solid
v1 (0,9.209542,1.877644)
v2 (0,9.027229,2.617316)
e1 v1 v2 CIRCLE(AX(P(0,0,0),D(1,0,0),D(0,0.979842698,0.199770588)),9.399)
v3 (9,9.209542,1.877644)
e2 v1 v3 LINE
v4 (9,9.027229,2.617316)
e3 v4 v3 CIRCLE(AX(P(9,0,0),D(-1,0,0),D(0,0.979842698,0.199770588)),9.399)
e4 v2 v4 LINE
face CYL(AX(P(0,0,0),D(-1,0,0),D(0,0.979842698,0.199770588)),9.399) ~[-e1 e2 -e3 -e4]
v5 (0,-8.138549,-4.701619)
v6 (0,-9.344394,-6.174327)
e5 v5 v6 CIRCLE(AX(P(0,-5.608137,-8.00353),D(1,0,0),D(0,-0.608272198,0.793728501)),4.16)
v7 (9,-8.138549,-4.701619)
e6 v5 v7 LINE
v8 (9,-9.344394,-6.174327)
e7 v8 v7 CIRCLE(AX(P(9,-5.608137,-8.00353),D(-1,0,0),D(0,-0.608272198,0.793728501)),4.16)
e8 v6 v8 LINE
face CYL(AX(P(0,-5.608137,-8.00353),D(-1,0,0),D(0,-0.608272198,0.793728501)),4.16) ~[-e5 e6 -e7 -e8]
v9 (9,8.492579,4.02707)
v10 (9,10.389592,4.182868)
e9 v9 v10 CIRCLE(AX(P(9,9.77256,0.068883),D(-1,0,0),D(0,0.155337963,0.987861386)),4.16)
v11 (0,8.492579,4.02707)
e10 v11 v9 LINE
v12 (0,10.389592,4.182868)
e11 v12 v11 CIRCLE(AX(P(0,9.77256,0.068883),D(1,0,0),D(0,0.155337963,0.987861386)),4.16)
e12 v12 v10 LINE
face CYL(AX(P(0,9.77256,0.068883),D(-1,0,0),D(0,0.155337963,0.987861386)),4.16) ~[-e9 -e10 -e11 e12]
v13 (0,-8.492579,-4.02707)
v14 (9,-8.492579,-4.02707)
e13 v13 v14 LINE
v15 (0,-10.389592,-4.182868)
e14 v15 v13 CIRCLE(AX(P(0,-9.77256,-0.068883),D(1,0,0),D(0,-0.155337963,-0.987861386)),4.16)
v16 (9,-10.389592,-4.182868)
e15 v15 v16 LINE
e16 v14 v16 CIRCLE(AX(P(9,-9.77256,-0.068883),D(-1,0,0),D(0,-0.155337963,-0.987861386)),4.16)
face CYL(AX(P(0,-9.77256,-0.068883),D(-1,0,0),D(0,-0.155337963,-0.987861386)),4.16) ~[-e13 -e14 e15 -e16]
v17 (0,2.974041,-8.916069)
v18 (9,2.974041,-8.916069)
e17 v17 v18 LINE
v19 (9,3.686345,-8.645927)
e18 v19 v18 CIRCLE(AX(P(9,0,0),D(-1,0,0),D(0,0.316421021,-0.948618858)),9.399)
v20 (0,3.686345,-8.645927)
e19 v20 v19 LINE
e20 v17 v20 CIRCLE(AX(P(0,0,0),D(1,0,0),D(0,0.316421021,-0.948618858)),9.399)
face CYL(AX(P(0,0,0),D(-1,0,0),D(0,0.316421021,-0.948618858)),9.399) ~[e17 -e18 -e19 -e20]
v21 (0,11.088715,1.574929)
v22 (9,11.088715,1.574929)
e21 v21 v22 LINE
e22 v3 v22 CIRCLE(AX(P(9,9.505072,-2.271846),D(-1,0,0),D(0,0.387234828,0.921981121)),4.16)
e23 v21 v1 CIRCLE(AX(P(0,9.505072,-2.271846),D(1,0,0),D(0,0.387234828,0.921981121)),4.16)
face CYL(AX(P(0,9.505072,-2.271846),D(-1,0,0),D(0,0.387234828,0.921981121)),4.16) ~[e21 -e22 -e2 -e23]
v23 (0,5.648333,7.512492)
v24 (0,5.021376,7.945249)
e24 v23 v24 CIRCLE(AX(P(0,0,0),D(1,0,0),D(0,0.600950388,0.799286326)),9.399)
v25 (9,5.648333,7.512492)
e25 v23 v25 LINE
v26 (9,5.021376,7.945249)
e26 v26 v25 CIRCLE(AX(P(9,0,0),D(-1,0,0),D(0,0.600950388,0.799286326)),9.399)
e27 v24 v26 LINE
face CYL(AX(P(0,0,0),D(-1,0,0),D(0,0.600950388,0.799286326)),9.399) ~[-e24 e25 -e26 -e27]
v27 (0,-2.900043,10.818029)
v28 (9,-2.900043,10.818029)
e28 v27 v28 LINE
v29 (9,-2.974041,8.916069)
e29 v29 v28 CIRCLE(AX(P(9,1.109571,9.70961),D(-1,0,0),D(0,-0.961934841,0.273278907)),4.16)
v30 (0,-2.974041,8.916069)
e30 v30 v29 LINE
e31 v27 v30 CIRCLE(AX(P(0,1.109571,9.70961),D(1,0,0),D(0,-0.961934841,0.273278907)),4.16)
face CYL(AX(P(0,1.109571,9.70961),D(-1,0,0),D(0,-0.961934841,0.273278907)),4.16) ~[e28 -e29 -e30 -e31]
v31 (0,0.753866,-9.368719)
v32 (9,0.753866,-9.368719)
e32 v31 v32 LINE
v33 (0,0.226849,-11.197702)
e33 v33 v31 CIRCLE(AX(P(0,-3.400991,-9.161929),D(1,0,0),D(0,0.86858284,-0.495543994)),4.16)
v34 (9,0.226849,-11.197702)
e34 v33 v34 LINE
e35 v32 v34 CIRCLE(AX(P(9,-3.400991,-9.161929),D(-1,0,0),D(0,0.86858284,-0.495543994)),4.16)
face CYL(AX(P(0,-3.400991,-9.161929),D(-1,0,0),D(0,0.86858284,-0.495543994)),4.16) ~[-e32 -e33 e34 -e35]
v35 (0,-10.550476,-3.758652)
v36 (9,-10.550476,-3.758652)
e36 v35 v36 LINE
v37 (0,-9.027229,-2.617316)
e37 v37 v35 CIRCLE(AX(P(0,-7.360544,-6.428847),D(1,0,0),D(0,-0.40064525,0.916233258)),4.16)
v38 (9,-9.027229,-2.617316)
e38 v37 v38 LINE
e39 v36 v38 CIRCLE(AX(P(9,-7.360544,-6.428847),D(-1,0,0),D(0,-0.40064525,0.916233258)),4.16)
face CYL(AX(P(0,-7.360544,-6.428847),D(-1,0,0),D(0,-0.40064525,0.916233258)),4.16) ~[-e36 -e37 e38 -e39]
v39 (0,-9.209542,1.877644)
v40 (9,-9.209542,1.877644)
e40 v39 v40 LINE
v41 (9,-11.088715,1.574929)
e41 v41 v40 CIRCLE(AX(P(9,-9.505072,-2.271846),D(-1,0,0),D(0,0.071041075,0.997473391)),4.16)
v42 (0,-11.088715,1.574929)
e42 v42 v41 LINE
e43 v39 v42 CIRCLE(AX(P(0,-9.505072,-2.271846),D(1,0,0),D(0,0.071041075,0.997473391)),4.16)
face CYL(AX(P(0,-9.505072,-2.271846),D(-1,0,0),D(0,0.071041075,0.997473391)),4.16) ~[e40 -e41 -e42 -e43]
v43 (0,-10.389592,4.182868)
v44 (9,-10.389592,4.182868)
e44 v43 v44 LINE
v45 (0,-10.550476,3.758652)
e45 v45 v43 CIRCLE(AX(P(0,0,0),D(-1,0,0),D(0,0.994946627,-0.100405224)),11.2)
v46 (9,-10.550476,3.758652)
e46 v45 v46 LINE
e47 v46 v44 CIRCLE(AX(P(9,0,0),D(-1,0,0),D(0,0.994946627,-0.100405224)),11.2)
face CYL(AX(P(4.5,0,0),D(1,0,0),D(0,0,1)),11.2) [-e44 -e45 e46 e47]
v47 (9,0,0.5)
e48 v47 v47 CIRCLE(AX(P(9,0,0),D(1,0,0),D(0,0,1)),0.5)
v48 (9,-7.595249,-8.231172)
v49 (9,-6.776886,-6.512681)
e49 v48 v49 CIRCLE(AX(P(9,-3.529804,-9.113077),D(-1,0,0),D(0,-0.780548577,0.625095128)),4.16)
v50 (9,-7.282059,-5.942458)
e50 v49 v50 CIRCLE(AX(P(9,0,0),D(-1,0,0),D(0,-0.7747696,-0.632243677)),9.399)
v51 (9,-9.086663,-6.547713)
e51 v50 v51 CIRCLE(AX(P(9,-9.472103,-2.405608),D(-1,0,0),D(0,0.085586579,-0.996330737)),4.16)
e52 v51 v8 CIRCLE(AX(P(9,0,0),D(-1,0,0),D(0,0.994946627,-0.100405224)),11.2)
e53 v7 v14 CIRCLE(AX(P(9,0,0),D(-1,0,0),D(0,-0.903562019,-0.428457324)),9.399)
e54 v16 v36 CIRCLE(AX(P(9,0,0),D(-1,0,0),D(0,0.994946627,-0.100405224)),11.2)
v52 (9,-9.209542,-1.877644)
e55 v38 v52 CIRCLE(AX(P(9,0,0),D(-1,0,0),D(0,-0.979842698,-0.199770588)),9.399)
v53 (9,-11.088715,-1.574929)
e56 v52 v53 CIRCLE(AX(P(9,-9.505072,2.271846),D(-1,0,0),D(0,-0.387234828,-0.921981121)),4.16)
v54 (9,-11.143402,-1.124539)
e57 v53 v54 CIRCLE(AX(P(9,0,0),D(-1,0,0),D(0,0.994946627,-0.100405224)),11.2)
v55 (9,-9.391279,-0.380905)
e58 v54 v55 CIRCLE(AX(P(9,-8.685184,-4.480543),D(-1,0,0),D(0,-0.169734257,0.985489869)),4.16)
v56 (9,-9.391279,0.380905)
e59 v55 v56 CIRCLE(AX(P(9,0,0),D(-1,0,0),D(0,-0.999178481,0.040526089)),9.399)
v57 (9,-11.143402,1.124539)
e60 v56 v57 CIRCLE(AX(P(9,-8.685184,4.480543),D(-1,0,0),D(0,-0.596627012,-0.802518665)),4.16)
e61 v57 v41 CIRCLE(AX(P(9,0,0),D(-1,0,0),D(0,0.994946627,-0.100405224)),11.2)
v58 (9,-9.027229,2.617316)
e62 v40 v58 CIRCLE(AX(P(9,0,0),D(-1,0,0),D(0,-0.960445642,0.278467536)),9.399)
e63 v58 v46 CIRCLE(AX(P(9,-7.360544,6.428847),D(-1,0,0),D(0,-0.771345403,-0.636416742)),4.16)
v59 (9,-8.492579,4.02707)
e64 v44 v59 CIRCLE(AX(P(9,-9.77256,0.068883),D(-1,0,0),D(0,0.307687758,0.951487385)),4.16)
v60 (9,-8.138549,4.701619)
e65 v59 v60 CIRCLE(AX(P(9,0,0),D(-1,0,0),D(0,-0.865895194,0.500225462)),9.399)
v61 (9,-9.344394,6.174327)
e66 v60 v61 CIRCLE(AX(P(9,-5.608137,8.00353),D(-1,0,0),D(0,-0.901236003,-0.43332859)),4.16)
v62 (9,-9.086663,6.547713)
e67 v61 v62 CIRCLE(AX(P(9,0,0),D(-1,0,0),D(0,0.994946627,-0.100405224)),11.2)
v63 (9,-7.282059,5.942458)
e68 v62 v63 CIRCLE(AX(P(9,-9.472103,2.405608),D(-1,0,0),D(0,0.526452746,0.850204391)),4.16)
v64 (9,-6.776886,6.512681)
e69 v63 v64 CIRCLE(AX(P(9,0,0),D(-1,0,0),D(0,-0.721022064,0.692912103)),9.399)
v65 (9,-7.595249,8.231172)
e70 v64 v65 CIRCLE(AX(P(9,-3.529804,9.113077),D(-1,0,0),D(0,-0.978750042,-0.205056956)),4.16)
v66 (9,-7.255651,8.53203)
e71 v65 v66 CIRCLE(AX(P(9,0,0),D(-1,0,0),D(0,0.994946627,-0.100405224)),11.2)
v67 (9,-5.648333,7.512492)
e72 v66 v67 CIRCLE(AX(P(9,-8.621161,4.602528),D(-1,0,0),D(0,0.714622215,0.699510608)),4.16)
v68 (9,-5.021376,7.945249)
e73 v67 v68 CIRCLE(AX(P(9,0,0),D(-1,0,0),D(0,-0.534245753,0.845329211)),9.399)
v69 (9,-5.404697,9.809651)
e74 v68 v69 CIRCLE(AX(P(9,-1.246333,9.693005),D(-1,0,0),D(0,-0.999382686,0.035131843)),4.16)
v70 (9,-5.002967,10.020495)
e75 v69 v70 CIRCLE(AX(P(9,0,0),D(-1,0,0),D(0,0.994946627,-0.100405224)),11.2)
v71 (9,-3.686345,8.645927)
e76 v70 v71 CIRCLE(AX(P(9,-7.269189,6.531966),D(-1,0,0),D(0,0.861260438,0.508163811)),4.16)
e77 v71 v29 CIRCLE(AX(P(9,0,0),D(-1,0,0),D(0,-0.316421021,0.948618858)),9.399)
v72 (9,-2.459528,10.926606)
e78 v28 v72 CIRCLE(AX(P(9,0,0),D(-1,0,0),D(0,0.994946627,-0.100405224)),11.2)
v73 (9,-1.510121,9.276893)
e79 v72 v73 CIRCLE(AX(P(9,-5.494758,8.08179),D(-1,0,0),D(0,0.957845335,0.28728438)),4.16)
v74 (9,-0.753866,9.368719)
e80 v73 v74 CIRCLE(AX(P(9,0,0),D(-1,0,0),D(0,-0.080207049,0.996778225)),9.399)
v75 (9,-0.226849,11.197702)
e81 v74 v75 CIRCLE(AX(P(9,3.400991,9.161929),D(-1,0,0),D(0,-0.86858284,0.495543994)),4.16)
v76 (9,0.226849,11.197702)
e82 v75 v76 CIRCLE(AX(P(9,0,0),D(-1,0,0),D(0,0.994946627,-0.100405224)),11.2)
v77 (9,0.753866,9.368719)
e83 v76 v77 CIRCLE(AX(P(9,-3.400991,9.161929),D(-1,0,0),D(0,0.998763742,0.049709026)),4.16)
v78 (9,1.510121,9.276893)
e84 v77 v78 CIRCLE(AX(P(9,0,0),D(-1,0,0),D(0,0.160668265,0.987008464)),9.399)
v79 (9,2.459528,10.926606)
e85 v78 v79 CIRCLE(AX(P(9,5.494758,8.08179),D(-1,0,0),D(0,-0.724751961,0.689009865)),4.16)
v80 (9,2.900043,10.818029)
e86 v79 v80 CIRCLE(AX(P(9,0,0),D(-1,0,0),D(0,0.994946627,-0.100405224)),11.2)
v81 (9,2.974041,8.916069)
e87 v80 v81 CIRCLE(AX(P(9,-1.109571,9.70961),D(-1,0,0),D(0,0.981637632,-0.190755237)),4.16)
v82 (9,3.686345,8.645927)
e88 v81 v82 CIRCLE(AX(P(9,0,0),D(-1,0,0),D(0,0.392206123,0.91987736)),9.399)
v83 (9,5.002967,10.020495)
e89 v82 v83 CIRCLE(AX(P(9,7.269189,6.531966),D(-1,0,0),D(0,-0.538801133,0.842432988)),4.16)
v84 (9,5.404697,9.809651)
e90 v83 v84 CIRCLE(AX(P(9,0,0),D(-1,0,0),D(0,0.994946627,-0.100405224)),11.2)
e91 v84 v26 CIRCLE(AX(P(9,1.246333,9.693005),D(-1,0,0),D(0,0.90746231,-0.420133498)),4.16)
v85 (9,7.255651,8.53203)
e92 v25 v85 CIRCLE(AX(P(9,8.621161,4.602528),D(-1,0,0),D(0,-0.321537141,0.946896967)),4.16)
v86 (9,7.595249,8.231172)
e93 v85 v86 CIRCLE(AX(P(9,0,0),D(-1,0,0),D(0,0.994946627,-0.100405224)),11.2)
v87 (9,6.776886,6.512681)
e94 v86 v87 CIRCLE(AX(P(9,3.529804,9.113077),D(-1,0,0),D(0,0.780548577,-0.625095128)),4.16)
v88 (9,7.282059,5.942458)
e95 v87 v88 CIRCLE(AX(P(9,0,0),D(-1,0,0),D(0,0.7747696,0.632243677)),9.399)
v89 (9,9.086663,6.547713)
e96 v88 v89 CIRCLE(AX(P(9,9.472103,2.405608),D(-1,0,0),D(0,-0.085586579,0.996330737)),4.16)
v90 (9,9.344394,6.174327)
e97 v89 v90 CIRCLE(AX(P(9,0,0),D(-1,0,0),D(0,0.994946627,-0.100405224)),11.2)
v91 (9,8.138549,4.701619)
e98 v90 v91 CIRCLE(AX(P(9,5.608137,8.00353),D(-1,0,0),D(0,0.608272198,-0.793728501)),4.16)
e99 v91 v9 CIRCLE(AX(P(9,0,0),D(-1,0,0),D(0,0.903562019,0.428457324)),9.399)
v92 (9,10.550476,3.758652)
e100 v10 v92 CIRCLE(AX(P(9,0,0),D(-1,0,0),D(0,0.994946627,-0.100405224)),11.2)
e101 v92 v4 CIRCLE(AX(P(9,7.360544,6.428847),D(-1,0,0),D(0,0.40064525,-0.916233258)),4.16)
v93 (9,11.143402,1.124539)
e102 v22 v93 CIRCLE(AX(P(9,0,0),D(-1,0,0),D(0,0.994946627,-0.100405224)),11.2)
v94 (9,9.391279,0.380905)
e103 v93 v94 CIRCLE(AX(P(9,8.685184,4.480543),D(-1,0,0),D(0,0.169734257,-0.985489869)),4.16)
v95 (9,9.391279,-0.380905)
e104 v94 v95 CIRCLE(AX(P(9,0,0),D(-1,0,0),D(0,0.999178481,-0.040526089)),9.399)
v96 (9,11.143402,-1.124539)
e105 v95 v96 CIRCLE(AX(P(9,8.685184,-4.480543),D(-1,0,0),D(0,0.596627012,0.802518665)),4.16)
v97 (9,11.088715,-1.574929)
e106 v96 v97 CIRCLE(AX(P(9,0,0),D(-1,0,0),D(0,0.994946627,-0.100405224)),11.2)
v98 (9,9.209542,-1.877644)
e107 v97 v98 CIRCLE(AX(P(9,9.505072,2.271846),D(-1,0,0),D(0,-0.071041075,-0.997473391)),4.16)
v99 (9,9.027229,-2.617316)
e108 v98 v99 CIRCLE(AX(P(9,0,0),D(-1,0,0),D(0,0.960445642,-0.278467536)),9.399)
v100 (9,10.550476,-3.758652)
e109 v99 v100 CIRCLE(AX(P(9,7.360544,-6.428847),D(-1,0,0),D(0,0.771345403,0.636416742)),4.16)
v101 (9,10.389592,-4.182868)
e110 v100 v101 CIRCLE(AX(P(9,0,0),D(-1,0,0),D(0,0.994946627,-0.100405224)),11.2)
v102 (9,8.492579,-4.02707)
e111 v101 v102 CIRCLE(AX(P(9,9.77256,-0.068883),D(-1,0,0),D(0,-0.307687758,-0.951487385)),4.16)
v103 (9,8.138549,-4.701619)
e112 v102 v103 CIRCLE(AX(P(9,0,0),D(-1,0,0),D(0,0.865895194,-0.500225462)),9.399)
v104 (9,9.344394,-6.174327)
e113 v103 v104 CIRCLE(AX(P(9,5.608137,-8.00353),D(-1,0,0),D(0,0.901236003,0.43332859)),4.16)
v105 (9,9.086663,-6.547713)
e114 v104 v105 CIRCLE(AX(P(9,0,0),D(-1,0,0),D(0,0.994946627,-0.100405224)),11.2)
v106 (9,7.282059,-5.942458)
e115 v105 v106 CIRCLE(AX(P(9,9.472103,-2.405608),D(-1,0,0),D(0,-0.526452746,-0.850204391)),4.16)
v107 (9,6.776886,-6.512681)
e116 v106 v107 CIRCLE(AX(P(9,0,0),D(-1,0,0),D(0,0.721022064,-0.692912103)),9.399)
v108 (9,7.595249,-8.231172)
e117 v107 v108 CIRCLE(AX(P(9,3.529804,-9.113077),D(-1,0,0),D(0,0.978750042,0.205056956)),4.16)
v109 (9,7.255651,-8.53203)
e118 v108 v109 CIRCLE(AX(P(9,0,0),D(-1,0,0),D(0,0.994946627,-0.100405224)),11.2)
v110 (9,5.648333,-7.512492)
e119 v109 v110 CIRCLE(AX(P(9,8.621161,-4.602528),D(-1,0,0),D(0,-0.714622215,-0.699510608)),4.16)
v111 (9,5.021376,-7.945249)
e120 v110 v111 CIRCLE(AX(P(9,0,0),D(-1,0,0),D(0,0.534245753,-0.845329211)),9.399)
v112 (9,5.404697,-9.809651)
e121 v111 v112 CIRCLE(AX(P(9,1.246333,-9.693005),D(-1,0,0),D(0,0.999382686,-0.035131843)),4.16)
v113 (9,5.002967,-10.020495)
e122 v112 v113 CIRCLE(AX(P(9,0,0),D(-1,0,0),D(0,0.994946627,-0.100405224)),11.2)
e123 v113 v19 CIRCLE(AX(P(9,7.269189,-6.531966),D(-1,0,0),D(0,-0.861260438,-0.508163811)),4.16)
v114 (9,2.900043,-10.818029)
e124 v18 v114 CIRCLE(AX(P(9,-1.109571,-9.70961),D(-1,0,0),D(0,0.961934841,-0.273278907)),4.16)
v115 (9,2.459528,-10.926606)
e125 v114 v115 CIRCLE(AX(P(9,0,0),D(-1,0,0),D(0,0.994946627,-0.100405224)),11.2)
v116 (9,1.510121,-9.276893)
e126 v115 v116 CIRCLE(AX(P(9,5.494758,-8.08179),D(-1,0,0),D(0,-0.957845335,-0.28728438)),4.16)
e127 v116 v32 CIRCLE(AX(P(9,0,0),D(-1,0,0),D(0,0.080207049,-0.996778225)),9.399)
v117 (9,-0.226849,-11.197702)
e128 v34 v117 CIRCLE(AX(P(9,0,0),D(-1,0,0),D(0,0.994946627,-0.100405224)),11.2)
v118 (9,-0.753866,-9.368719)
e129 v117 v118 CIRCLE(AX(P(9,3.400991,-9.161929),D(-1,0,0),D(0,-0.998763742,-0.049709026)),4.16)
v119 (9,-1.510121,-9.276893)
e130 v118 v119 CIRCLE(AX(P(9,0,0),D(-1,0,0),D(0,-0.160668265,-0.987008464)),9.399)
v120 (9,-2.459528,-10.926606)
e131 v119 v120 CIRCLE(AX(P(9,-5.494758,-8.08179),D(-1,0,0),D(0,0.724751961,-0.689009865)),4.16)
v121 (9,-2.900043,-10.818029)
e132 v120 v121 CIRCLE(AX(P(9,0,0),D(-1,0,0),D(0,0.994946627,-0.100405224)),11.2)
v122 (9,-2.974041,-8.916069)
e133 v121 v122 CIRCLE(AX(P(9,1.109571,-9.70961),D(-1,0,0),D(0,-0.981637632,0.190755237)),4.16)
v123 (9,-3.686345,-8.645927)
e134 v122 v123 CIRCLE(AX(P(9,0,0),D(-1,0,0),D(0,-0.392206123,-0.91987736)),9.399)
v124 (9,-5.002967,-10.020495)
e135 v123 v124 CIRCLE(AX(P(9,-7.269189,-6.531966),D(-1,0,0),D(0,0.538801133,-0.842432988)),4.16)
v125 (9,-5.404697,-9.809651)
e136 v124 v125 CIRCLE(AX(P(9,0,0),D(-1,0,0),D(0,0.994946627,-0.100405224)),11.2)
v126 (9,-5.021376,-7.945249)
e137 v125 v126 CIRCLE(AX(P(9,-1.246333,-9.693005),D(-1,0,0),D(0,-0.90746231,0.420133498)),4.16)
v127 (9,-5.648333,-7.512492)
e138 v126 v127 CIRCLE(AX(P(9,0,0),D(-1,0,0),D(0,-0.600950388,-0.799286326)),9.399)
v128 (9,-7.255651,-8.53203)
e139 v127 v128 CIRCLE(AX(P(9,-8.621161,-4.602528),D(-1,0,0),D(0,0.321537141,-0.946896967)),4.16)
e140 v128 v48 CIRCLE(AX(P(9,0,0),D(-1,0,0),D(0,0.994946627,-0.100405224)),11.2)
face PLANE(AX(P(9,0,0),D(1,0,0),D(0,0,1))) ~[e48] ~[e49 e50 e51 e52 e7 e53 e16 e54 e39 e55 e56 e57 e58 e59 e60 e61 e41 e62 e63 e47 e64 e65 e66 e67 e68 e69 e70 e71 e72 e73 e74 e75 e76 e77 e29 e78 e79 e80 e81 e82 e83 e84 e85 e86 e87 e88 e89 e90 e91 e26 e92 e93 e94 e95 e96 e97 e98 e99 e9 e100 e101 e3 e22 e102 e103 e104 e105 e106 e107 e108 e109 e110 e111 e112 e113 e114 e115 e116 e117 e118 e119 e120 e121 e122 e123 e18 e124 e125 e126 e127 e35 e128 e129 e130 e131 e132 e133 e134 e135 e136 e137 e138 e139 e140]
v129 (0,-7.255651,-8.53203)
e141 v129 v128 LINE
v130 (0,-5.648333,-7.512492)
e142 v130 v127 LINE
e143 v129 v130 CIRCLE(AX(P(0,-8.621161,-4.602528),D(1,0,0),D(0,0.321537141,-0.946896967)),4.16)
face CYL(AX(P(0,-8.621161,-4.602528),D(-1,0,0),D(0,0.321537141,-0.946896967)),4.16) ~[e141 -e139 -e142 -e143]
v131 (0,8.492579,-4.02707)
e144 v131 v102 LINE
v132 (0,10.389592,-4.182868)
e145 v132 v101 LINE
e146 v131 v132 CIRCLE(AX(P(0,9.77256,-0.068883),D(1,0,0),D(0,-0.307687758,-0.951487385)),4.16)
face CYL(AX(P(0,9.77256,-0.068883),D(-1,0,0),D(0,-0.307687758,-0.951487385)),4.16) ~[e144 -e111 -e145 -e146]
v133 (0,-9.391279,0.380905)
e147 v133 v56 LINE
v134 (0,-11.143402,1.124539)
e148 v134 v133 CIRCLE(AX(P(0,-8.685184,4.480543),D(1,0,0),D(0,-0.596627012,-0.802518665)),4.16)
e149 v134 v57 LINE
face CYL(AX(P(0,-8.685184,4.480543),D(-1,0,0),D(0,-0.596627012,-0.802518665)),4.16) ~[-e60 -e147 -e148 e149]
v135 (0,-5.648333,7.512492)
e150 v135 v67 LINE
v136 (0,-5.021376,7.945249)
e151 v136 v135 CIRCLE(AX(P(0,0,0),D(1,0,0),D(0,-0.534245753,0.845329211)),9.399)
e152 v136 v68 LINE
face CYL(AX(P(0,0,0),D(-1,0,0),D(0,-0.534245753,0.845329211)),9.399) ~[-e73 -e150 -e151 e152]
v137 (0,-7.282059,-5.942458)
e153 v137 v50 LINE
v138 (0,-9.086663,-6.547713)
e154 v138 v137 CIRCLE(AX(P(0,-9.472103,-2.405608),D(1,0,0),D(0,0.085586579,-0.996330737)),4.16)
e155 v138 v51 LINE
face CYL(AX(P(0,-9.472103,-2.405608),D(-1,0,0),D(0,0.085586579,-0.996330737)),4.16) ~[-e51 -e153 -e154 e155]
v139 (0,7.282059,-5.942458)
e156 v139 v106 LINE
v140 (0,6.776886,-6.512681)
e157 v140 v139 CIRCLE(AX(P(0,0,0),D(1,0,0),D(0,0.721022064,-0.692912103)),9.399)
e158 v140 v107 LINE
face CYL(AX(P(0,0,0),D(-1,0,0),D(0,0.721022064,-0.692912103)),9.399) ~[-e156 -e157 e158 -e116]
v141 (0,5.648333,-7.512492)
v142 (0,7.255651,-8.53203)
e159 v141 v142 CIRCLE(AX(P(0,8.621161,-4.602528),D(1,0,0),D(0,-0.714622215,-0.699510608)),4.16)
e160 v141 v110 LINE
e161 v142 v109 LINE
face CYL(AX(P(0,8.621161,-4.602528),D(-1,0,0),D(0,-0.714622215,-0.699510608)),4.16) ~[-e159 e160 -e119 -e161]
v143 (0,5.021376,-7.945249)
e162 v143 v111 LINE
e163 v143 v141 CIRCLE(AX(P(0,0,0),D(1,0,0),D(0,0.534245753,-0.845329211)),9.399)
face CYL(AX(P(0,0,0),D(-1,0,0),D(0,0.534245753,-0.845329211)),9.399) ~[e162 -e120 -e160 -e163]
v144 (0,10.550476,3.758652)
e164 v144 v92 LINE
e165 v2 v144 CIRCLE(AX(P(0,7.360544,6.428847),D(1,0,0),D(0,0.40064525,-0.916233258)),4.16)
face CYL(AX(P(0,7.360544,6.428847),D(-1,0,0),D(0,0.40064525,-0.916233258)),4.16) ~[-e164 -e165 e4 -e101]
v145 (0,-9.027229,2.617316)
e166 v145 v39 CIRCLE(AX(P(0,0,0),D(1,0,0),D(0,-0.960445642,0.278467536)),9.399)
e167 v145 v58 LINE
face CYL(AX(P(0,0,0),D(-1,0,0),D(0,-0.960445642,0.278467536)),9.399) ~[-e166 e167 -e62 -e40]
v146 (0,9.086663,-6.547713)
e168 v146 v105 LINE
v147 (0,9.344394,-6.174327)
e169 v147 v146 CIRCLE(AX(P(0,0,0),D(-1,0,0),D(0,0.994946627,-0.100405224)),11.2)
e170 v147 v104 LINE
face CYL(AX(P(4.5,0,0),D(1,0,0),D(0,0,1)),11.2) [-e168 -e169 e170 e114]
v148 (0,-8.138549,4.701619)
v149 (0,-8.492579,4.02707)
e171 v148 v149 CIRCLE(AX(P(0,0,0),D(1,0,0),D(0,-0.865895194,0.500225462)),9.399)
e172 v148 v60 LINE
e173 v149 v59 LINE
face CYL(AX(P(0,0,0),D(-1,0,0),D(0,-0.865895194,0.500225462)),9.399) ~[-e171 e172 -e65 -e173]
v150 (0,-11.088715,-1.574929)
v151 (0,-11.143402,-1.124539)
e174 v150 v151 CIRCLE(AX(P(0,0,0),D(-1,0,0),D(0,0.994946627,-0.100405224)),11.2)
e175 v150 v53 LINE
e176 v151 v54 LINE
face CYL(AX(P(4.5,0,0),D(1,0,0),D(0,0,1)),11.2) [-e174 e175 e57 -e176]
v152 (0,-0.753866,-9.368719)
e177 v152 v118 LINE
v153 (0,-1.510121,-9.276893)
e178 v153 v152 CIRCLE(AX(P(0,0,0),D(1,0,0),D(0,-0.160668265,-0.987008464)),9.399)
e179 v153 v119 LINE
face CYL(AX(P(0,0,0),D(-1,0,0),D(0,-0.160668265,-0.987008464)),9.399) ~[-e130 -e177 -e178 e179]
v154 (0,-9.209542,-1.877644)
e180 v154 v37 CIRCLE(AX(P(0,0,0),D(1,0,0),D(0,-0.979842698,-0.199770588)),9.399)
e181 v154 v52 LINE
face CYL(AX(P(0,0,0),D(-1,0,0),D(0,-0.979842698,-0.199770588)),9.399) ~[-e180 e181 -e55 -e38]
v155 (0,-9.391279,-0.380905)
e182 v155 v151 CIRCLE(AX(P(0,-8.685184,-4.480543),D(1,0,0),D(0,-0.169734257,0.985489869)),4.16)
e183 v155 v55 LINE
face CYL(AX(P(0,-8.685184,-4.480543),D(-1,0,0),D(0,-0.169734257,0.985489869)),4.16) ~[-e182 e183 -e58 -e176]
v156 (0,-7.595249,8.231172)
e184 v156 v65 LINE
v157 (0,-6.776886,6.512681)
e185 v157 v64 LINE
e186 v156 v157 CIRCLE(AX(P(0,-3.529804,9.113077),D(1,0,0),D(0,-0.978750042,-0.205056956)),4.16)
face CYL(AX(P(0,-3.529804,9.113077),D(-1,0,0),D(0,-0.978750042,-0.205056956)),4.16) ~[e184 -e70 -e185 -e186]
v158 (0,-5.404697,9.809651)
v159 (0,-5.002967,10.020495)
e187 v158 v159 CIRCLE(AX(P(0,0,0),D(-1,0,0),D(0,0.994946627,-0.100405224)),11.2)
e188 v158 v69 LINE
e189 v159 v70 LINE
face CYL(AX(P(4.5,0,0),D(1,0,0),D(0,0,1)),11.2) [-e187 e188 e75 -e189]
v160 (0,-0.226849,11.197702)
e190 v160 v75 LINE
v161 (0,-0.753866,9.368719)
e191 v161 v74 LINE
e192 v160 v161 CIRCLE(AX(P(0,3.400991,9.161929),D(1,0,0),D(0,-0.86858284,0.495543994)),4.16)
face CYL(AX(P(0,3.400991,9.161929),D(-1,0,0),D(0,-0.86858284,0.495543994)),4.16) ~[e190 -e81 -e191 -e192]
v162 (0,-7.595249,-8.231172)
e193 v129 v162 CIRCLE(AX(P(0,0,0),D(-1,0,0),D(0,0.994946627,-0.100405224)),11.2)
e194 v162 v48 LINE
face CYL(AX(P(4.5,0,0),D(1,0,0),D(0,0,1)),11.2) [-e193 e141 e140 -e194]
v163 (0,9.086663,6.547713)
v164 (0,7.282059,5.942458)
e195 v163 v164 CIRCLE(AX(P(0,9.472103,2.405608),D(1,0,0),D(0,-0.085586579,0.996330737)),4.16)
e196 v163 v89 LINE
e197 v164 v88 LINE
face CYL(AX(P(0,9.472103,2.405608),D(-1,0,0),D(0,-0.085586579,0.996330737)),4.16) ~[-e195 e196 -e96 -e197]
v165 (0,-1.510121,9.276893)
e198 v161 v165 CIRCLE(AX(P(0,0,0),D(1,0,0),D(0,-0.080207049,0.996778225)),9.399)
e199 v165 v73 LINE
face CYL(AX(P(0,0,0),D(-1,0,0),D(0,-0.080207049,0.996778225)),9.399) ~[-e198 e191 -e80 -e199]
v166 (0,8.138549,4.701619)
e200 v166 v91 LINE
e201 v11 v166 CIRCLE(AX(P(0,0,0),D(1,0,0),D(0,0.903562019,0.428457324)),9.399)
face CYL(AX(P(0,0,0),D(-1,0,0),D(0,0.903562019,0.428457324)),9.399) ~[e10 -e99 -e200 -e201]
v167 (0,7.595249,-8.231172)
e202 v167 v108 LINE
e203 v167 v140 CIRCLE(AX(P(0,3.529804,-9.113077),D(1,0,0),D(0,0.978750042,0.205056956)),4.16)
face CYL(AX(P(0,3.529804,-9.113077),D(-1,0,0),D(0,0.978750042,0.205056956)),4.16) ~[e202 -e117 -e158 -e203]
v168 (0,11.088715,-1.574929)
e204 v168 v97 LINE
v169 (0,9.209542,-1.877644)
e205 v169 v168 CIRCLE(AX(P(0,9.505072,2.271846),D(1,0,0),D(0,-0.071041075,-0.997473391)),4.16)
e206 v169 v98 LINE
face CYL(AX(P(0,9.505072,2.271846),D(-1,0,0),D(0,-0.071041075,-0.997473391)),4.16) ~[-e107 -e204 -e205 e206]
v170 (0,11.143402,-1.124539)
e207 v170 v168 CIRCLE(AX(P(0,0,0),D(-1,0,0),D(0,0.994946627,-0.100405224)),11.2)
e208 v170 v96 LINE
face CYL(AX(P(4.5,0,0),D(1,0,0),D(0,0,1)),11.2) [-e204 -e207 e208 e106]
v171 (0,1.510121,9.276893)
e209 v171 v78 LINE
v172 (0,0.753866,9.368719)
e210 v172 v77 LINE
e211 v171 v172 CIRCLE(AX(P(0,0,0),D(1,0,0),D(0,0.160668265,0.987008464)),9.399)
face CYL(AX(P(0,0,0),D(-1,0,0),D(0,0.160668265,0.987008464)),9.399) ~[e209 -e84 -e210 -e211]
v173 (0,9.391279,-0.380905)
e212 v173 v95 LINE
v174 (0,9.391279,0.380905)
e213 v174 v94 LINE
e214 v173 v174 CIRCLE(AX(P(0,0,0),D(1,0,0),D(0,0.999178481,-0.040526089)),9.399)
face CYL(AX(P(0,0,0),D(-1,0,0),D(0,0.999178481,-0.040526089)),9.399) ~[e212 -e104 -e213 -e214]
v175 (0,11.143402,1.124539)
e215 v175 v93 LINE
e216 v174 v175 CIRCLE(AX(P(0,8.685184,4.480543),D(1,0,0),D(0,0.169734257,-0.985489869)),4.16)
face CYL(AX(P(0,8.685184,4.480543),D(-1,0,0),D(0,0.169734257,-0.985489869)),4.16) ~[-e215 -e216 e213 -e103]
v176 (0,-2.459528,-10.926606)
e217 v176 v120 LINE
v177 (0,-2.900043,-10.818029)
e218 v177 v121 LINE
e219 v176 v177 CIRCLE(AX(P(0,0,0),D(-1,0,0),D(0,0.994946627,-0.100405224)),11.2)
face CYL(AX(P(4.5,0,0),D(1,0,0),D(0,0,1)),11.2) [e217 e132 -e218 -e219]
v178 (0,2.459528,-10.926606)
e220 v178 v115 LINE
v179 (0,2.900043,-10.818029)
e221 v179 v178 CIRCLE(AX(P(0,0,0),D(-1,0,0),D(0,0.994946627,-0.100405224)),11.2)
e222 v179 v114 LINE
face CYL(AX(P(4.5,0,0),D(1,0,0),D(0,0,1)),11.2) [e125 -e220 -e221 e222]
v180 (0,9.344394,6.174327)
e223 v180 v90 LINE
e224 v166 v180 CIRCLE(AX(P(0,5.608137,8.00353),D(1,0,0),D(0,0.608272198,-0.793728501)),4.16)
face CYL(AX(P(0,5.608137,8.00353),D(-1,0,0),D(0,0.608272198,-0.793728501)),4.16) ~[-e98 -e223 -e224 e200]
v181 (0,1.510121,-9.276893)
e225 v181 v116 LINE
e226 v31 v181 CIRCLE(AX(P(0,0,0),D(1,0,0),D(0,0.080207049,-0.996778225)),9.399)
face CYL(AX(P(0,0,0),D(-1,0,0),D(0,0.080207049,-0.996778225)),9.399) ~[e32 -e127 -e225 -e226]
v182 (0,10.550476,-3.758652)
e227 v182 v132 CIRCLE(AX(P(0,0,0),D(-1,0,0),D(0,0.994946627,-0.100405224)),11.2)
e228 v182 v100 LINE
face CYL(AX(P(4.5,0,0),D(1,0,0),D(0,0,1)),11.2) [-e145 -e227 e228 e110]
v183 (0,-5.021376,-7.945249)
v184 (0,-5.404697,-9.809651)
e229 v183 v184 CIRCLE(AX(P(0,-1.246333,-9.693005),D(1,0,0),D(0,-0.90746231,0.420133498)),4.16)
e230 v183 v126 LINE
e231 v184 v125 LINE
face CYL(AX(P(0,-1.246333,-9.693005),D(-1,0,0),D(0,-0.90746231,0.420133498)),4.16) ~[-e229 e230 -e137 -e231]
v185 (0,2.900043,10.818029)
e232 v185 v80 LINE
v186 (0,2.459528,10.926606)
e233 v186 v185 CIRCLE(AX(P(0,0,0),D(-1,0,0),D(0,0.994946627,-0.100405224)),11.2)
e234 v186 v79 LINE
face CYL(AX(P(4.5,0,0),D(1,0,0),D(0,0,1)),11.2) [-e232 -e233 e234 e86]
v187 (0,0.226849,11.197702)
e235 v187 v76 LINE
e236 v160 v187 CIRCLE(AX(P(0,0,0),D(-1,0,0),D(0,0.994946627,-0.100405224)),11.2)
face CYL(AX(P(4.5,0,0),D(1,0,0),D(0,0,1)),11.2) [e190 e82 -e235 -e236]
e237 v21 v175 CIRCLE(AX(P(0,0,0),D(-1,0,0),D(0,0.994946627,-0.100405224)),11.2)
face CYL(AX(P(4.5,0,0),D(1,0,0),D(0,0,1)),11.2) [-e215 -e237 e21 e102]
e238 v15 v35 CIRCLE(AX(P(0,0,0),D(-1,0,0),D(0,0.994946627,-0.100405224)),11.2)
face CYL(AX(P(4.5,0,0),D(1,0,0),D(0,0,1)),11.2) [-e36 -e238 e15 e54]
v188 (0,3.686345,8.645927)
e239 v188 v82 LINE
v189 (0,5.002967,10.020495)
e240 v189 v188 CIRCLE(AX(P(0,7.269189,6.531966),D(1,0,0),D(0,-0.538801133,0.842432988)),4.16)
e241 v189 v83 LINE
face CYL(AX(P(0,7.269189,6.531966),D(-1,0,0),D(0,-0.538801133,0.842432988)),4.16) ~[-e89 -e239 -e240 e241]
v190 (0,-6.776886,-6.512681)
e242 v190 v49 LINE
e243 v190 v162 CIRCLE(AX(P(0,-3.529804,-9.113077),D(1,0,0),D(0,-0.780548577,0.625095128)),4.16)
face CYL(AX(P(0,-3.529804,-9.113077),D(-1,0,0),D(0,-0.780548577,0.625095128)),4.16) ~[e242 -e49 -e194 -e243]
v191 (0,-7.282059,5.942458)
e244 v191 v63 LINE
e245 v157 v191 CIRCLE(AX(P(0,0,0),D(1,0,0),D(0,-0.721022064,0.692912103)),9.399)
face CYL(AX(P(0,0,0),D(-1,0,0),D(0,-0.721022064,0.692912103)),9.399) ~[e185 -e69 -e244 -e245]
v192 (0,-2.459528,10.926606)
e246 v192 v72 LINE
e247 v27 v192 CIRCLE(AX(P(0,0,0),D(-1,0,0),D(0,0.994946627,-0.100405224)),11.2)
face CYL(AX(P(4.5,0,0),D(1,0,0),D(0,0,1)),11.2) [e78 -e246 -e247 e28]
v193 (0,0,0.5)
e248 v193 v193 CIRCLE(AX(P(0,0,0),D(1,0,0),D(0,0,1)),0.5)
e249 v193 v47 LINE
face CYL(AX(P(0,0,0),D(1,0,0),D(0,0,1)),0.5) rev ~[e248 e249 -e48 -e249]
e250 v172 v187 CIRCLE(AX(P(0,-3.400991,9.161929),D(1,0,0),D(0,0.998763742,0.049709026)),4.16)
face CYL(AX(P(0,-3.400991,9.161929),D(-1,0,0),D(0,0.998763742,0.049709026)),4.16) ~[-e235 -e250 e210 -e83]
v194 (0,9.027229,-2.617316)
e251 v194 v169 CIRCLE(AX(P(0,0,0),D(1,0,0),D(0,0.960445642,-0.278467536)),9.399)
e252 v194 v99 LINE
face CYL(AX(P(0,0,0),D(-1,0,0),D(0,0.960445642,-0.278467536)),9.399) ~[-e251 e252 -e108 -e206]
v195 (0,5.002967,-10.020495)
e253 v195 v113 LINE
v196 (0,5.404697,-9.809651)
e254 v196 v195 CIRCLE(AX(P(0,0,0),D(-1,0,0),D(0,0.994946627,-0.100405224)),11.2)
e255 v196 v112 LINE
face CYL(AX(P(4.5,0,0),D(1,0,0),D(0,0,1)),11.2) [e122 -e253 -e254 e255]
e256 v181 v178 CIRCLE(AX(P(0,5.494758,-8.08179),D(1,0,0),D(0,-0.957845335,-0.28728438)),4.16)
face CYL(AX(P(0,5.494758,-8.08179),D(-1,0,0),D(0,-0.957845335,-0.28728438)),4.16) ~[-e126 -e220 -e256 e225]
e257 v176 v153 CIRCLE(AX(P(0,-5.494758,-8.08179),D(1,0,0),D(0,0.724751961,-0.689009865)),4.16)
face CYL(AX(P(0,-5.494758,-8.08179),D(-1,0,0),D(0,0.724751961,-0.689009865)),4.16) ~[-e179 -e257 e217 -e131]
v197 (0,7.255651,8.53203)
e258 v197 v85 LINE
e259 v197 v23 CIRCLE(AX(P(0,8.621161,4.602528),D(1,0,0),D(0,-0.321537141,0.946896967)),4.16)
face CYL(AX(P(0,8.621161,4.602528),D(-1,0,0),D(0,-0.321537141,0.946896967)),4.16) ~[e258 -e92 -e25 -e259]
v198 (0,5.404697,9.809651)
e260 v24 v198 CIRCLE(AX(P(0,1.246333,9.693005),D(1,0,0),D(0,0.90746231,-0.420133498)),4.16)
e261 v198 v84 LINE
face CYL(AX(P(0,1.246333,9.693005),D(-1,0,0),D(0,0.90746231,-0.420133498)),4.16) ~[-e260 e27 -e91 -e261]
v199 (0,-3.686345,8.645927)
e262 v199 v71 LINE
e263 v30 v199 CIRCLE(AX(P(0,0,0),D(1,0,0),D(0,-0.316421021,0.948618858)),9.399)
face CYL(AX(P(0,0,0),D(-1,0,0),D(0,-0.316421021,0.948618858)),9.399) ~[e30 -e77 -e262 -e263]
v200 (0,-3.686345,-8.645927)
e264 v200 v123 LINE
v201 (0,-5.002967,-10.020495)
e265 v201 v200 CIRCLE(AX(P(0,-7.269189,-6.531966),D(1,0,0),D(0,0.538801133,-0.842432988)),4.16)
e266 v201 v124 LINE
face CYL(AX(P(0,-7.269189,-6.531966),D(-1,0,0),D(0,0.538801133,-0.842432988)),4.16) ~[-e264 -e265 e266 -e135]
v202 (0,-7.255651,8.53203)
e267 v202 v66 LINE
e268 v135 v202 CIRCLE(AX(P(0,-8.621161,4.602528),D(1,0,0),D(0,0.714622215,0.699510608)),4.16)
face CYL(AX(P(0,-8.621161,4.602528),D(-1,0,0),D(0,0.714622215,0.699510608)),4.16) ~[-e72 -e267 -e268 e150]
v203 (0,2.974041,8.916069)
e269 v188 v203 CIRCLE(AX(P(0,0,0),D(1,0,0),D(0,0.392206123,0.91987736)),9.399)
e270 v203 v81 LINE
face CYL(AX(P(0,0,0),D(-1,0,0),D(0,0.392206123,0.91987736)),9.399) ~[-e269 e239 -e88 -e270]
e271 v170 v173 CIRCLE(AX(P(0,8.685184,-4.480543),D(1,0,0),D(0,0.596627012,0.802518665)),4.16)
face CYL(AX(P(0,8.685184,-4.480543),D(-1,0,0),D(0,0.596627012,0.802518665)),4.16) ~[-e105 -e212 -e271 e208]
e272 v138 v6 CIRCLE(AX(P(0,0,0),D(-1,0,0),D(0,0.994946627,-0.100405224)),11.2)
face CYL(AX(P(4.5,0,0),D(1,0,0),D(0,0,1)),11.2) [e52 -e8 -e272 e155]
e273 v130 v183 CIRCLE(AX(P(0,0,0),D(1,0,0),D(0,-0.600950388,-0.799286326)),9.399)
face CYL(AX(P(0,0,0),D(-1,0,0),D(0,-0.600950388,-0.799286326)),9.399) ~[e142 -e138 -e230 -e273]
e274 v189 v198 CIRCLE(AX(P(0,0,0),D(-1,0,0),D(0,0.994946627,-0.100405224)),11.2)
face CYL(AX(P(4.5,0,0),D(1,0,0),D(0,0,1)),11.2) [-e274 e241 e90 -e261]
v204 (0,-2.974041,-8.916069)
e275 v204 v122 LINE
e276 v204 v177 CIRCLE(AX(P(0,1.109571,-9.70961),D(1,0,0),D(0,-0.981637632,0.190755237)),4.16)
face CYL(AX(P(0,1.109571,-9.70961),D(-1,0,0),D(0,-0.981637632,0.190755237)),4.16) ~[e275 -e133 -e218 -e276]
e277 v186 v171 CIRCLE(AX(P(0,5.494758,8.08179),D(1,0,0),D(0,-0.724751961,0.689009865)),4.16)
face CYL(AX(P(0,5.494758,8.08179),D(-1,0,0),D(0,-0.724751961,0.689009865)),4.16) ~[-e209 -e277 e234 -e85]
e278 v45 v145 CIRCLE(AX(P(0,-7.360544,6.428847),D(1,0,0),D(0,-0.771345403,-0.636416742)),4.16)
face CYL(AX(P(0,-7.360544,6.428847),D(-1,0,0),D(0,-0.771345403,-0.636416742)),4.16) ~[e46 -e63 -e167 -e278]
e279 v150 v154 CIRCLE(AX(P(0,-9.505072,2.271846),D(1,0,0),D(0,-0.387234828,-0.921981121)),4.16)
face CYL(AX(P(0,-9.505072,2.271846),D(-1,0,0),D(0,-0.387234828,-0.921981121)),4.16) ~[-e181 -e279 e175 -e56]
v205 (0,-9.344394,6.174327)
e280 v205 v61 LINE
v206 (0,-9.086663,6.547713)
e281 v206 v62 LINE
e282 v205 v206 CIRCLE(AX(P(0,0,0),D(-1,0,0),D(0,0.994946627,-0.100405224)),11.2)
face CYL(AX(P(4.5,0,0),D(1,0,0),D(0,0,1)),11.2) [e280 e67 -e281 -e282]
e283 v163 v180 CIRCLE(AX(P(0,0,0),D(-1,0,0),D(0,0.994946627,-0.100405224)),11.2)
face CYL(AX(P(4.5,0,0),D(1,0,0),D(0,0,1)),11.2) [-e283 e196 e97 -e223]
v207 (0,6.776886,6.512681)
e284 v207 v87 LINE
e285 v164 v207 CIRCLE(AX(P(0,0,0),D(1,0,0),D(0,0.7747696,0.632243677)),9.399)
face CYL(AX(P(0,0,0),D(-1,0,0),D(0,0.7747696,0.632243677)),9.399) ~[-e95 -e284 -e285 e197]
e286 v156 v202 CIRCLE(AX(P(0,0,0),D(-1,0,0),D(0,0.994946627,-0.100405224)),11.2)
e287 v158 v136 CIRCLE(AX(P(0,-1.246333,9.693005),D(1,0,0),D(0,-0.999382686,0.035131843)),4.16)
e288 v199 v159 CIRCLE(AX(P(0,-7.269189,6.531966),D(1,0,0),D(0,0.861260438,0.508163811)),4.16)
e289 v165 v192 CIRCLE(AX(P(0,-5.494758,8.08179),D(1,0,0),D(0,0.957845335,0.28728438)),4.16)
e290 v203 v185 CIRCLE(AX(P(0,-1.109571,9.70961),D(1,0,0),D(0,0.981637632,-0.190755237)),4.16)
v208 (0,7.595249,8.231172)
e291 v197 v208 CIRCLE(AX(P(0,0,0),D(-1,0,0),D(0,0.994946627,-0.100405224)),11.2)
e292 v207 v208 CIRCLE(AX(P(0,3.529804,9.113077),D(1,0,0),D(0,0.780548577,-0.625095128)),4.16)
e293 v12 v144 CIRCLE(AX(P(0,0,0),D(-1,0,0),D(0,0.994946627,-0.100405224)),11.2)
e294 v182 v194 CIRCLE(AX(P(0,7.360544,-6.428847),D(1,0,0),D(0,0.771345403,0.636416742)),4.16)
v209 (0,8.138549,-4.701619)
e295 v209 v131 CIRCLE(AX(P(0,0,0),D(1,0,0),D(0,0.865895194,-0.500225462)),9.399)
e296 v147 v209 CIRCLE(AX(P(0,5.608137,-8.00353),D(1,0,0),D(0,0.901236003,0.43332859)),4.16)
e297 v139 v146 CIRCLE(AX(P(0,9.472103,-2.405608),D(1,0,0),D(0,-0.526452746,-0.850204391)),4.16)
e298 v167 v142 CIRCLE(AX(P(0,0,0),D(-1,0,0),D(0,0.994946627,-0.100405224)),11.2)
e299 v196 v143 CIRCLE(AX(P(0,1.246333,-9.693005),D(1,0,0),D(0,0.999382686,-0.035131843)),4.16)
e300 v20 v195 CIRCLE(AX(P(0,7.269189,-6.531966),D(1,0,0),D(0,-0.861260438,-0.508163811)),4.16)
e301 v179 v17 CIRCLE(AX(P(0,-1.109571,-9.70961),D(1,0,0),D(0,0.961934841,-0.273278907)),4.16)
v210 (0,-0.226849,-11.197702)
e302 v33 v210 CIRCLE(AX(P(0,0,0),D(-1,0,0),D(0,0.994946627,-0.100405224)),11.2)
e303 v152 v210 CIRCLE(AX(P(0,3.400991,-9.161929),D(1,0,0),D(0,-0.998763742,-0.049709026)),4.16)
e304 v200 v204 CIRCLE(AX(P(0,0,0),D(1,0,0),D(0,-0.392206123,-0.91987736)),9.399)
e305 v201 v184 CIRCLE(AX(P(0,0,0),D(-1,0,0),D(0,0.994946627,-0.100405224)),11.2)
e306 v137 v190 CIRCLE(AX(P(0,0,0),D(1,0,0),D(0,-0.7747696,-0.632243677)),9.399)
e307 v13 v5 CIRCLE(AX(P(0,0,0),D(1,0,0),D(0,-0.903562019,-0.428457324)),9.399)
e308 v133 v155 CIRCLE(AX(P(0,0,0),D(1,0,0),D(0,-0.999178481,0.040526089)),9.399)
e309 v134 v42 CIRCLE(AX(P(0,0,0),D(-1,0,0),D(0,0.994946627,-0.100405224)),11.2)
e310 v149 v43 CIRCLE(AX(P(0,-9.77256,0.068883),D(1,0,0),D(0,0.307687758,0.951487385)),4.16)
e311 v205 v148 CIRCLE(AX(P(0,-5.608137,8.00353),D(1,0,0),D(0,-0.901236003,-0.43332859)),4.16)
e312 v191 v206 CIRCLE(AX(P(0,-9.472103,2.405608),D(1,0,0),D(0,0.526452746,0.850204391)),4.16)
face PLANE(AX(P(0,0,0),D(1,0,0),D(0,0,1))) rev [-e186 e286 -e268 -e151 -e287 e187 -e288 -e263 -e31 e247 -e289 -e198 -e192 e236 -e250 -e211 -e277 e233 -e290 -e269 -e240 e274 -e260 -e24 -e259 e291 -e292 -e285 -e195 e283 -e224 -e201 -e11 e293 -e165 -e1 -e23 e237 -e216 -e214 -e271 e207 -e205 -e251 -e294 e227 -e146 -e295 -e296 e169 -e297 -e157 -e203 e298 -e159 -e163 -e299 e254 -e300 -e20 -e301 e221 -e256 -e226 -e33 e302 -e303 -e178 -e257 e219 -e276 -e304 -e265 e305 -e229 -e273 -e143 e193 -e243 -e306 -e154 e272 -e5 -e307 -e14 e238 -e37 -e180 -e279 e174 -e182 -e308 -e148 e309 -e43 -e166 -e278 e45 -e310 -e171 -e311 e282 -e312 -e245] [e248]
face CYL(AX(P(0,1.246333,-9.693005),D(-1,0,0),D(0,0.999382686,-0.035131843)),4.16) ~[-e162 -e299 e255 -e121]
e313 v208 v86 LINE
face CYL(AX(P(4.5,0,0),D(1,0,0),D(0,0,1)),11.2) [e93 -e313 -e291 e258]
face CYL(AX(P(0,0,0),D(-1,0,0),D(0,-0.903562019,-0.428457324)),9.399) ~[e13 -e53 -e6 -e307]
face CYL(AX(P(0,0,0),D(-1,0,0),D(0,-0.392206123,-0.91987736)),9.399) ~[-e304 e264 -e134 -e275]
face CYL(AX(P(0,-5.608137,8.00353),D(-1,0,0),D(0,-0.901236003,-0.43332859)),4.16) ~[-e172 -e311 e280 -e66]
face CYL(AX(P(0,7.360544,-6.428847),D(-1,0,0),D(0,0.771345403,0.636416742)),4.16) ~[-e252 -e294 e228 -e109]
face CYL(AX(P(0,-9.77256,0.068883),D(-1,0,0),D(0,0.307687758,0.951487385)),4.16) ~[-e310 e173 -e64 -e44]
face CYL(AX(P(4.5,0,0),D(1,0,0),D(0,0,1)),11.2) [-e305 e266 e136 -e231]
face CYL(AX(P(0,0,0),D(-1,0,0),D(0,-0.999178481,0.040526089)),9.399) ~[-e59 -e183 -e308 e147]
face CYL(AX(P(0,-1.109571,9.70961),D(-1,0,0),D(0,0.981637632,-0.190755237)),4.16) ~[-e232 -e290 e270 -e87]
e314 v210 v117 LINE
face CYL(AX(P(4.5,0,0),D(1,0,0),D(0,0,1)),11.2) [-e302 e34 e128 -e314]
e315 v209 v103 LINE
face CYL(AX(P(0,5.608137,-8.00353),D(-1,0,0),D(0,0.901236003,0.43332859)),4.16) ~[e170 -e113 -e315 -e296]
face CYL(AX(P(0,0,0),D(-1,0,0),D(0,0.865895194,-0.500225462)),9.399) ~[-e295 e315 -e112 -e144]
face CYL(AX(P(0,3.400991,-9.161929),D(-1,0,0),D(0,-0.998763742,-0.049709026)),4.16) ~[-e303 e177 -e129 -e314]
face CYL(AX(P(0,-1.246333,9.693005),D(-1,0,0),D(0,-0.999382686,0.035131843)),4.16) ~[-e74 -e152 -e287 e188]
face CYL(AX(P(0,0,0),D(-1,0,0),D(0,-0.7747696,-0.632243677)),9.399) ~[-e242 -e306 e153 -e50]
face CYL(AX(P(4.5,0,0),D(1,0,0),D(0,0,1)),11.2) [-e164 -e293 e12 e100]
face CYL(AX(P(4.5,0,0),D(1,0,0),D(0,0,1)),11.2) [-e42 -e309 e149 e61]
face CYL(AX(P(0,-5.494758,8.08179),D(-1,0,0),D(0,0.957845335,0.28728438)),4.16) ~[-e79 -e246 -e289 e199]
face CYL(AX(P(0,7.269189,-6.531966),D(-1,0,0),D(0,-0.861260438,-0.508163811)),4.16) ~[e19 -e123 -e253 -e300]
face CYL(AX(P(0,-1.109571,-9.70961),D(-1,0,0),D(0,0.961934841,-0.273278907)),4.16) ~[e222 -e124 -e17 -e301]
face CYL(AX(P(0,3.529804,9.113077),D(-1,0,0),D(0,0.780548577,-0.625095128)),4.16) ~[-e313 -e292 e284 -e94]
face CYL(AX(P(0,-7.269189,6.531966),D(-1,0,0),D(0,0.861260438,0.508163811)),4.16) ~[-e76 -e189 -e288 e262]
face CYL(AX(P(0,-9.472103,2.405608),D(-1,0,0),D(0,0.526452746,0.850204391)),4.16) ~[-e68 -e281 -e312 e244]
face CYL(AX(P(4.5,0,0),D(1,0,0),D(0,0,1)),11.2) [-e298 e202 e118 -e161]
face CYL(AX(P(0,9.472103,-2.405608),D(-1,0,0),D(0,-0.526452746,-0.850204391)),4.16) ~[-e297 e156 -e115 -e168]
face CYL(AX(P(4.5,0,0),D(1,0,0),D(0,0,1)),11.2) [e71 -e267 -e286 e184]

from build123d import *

# Parameters (mm, degrees)
BASPROSKE_W     = 9
BASPROSKE_H     = 11.2
TOOTHCUT_DEPTH  = 19.217573933
TEETHCUTS_COUNT = 26
TEETHCUTS_ANGLE = 346.153846154
BORSKE_R        = 0.5
BORE_DEPTH      = 50.0000508


with BuildPart() as part:
    # BasProSke → Base-Revolve (revolve)
    with BuildSketch(Plane(origin=(0, 0, 0), x_dir=(1, 0, 0), z_dir=(0, 1, 0)), mode=Mode.PRIVATE) as base_revolve_sk:
        with Locations((4.5, 5.6)):
            Rectangle(BASPROSKE_W, BASPROSKE_H)
    revolve(base_revolve_sk.sketch.rotate(Axis((-10, 0, 0), (1, 0, 0)), 180), axis=Axis((-10, 0, 0), (1, 0, 0)))

    # TooCutSke → ToothCut (cut, through all)
    with BuildSketch(Plane(origin=(0, 0, 0), x_dir=(0, 0, -1), z_dir=(1, 0, 0))):
        with BuildLine():
            ThreePointArc((0.380904725, 9.391278539), (0, 9.399), (-0.380904725, 9.391278539))
            ThreePointArc((-0.380904725, 9.391278539), (-0.656954926, 10.324018205), (-1.142064934, 11.167152405))
            ThreePointArc((-1.142064934, 11.167152405), (0, 11.2254), (1.142064934, 11.167152405))
            ThreePointArc((1.142064934, 11.167152405), (0.656954926, 10.324018205), (0.380904725, 9.391278539))
        make_face()
    toothcut = extrude(amount=TOOTHCUT_DEPTH, mode=Mode.SUBTRACT)

    # TeethCuts: ToothCut ×26 about axis
    teethcuts_axis = Axis((-10, 0, 0), (1, 0, 0))
    for i in range(1, TEETHCUTS_COUNT):
        add(toothcut.rotate(teethcuts_axis, i * TEETHCUTS_ANGLE / (TEETHCUTS_COUNT - 1)), mode=Mode.SUBTRACT)

    # BorSke → Bore (cut, symmetric)
    with BuildSketch(Plane(origin=(0, 0, 0), x_dir=(0, 0, -1), z_dir=(1, 0, 0))):
        with Locations(Location((0, 0, 0), (0, 0, 180))):
            Circle(BORSKE_R)
    extrude(amount=BORE_DEPTH, both=True, mode=Mode.SUBTRACT)


solid = part.part
